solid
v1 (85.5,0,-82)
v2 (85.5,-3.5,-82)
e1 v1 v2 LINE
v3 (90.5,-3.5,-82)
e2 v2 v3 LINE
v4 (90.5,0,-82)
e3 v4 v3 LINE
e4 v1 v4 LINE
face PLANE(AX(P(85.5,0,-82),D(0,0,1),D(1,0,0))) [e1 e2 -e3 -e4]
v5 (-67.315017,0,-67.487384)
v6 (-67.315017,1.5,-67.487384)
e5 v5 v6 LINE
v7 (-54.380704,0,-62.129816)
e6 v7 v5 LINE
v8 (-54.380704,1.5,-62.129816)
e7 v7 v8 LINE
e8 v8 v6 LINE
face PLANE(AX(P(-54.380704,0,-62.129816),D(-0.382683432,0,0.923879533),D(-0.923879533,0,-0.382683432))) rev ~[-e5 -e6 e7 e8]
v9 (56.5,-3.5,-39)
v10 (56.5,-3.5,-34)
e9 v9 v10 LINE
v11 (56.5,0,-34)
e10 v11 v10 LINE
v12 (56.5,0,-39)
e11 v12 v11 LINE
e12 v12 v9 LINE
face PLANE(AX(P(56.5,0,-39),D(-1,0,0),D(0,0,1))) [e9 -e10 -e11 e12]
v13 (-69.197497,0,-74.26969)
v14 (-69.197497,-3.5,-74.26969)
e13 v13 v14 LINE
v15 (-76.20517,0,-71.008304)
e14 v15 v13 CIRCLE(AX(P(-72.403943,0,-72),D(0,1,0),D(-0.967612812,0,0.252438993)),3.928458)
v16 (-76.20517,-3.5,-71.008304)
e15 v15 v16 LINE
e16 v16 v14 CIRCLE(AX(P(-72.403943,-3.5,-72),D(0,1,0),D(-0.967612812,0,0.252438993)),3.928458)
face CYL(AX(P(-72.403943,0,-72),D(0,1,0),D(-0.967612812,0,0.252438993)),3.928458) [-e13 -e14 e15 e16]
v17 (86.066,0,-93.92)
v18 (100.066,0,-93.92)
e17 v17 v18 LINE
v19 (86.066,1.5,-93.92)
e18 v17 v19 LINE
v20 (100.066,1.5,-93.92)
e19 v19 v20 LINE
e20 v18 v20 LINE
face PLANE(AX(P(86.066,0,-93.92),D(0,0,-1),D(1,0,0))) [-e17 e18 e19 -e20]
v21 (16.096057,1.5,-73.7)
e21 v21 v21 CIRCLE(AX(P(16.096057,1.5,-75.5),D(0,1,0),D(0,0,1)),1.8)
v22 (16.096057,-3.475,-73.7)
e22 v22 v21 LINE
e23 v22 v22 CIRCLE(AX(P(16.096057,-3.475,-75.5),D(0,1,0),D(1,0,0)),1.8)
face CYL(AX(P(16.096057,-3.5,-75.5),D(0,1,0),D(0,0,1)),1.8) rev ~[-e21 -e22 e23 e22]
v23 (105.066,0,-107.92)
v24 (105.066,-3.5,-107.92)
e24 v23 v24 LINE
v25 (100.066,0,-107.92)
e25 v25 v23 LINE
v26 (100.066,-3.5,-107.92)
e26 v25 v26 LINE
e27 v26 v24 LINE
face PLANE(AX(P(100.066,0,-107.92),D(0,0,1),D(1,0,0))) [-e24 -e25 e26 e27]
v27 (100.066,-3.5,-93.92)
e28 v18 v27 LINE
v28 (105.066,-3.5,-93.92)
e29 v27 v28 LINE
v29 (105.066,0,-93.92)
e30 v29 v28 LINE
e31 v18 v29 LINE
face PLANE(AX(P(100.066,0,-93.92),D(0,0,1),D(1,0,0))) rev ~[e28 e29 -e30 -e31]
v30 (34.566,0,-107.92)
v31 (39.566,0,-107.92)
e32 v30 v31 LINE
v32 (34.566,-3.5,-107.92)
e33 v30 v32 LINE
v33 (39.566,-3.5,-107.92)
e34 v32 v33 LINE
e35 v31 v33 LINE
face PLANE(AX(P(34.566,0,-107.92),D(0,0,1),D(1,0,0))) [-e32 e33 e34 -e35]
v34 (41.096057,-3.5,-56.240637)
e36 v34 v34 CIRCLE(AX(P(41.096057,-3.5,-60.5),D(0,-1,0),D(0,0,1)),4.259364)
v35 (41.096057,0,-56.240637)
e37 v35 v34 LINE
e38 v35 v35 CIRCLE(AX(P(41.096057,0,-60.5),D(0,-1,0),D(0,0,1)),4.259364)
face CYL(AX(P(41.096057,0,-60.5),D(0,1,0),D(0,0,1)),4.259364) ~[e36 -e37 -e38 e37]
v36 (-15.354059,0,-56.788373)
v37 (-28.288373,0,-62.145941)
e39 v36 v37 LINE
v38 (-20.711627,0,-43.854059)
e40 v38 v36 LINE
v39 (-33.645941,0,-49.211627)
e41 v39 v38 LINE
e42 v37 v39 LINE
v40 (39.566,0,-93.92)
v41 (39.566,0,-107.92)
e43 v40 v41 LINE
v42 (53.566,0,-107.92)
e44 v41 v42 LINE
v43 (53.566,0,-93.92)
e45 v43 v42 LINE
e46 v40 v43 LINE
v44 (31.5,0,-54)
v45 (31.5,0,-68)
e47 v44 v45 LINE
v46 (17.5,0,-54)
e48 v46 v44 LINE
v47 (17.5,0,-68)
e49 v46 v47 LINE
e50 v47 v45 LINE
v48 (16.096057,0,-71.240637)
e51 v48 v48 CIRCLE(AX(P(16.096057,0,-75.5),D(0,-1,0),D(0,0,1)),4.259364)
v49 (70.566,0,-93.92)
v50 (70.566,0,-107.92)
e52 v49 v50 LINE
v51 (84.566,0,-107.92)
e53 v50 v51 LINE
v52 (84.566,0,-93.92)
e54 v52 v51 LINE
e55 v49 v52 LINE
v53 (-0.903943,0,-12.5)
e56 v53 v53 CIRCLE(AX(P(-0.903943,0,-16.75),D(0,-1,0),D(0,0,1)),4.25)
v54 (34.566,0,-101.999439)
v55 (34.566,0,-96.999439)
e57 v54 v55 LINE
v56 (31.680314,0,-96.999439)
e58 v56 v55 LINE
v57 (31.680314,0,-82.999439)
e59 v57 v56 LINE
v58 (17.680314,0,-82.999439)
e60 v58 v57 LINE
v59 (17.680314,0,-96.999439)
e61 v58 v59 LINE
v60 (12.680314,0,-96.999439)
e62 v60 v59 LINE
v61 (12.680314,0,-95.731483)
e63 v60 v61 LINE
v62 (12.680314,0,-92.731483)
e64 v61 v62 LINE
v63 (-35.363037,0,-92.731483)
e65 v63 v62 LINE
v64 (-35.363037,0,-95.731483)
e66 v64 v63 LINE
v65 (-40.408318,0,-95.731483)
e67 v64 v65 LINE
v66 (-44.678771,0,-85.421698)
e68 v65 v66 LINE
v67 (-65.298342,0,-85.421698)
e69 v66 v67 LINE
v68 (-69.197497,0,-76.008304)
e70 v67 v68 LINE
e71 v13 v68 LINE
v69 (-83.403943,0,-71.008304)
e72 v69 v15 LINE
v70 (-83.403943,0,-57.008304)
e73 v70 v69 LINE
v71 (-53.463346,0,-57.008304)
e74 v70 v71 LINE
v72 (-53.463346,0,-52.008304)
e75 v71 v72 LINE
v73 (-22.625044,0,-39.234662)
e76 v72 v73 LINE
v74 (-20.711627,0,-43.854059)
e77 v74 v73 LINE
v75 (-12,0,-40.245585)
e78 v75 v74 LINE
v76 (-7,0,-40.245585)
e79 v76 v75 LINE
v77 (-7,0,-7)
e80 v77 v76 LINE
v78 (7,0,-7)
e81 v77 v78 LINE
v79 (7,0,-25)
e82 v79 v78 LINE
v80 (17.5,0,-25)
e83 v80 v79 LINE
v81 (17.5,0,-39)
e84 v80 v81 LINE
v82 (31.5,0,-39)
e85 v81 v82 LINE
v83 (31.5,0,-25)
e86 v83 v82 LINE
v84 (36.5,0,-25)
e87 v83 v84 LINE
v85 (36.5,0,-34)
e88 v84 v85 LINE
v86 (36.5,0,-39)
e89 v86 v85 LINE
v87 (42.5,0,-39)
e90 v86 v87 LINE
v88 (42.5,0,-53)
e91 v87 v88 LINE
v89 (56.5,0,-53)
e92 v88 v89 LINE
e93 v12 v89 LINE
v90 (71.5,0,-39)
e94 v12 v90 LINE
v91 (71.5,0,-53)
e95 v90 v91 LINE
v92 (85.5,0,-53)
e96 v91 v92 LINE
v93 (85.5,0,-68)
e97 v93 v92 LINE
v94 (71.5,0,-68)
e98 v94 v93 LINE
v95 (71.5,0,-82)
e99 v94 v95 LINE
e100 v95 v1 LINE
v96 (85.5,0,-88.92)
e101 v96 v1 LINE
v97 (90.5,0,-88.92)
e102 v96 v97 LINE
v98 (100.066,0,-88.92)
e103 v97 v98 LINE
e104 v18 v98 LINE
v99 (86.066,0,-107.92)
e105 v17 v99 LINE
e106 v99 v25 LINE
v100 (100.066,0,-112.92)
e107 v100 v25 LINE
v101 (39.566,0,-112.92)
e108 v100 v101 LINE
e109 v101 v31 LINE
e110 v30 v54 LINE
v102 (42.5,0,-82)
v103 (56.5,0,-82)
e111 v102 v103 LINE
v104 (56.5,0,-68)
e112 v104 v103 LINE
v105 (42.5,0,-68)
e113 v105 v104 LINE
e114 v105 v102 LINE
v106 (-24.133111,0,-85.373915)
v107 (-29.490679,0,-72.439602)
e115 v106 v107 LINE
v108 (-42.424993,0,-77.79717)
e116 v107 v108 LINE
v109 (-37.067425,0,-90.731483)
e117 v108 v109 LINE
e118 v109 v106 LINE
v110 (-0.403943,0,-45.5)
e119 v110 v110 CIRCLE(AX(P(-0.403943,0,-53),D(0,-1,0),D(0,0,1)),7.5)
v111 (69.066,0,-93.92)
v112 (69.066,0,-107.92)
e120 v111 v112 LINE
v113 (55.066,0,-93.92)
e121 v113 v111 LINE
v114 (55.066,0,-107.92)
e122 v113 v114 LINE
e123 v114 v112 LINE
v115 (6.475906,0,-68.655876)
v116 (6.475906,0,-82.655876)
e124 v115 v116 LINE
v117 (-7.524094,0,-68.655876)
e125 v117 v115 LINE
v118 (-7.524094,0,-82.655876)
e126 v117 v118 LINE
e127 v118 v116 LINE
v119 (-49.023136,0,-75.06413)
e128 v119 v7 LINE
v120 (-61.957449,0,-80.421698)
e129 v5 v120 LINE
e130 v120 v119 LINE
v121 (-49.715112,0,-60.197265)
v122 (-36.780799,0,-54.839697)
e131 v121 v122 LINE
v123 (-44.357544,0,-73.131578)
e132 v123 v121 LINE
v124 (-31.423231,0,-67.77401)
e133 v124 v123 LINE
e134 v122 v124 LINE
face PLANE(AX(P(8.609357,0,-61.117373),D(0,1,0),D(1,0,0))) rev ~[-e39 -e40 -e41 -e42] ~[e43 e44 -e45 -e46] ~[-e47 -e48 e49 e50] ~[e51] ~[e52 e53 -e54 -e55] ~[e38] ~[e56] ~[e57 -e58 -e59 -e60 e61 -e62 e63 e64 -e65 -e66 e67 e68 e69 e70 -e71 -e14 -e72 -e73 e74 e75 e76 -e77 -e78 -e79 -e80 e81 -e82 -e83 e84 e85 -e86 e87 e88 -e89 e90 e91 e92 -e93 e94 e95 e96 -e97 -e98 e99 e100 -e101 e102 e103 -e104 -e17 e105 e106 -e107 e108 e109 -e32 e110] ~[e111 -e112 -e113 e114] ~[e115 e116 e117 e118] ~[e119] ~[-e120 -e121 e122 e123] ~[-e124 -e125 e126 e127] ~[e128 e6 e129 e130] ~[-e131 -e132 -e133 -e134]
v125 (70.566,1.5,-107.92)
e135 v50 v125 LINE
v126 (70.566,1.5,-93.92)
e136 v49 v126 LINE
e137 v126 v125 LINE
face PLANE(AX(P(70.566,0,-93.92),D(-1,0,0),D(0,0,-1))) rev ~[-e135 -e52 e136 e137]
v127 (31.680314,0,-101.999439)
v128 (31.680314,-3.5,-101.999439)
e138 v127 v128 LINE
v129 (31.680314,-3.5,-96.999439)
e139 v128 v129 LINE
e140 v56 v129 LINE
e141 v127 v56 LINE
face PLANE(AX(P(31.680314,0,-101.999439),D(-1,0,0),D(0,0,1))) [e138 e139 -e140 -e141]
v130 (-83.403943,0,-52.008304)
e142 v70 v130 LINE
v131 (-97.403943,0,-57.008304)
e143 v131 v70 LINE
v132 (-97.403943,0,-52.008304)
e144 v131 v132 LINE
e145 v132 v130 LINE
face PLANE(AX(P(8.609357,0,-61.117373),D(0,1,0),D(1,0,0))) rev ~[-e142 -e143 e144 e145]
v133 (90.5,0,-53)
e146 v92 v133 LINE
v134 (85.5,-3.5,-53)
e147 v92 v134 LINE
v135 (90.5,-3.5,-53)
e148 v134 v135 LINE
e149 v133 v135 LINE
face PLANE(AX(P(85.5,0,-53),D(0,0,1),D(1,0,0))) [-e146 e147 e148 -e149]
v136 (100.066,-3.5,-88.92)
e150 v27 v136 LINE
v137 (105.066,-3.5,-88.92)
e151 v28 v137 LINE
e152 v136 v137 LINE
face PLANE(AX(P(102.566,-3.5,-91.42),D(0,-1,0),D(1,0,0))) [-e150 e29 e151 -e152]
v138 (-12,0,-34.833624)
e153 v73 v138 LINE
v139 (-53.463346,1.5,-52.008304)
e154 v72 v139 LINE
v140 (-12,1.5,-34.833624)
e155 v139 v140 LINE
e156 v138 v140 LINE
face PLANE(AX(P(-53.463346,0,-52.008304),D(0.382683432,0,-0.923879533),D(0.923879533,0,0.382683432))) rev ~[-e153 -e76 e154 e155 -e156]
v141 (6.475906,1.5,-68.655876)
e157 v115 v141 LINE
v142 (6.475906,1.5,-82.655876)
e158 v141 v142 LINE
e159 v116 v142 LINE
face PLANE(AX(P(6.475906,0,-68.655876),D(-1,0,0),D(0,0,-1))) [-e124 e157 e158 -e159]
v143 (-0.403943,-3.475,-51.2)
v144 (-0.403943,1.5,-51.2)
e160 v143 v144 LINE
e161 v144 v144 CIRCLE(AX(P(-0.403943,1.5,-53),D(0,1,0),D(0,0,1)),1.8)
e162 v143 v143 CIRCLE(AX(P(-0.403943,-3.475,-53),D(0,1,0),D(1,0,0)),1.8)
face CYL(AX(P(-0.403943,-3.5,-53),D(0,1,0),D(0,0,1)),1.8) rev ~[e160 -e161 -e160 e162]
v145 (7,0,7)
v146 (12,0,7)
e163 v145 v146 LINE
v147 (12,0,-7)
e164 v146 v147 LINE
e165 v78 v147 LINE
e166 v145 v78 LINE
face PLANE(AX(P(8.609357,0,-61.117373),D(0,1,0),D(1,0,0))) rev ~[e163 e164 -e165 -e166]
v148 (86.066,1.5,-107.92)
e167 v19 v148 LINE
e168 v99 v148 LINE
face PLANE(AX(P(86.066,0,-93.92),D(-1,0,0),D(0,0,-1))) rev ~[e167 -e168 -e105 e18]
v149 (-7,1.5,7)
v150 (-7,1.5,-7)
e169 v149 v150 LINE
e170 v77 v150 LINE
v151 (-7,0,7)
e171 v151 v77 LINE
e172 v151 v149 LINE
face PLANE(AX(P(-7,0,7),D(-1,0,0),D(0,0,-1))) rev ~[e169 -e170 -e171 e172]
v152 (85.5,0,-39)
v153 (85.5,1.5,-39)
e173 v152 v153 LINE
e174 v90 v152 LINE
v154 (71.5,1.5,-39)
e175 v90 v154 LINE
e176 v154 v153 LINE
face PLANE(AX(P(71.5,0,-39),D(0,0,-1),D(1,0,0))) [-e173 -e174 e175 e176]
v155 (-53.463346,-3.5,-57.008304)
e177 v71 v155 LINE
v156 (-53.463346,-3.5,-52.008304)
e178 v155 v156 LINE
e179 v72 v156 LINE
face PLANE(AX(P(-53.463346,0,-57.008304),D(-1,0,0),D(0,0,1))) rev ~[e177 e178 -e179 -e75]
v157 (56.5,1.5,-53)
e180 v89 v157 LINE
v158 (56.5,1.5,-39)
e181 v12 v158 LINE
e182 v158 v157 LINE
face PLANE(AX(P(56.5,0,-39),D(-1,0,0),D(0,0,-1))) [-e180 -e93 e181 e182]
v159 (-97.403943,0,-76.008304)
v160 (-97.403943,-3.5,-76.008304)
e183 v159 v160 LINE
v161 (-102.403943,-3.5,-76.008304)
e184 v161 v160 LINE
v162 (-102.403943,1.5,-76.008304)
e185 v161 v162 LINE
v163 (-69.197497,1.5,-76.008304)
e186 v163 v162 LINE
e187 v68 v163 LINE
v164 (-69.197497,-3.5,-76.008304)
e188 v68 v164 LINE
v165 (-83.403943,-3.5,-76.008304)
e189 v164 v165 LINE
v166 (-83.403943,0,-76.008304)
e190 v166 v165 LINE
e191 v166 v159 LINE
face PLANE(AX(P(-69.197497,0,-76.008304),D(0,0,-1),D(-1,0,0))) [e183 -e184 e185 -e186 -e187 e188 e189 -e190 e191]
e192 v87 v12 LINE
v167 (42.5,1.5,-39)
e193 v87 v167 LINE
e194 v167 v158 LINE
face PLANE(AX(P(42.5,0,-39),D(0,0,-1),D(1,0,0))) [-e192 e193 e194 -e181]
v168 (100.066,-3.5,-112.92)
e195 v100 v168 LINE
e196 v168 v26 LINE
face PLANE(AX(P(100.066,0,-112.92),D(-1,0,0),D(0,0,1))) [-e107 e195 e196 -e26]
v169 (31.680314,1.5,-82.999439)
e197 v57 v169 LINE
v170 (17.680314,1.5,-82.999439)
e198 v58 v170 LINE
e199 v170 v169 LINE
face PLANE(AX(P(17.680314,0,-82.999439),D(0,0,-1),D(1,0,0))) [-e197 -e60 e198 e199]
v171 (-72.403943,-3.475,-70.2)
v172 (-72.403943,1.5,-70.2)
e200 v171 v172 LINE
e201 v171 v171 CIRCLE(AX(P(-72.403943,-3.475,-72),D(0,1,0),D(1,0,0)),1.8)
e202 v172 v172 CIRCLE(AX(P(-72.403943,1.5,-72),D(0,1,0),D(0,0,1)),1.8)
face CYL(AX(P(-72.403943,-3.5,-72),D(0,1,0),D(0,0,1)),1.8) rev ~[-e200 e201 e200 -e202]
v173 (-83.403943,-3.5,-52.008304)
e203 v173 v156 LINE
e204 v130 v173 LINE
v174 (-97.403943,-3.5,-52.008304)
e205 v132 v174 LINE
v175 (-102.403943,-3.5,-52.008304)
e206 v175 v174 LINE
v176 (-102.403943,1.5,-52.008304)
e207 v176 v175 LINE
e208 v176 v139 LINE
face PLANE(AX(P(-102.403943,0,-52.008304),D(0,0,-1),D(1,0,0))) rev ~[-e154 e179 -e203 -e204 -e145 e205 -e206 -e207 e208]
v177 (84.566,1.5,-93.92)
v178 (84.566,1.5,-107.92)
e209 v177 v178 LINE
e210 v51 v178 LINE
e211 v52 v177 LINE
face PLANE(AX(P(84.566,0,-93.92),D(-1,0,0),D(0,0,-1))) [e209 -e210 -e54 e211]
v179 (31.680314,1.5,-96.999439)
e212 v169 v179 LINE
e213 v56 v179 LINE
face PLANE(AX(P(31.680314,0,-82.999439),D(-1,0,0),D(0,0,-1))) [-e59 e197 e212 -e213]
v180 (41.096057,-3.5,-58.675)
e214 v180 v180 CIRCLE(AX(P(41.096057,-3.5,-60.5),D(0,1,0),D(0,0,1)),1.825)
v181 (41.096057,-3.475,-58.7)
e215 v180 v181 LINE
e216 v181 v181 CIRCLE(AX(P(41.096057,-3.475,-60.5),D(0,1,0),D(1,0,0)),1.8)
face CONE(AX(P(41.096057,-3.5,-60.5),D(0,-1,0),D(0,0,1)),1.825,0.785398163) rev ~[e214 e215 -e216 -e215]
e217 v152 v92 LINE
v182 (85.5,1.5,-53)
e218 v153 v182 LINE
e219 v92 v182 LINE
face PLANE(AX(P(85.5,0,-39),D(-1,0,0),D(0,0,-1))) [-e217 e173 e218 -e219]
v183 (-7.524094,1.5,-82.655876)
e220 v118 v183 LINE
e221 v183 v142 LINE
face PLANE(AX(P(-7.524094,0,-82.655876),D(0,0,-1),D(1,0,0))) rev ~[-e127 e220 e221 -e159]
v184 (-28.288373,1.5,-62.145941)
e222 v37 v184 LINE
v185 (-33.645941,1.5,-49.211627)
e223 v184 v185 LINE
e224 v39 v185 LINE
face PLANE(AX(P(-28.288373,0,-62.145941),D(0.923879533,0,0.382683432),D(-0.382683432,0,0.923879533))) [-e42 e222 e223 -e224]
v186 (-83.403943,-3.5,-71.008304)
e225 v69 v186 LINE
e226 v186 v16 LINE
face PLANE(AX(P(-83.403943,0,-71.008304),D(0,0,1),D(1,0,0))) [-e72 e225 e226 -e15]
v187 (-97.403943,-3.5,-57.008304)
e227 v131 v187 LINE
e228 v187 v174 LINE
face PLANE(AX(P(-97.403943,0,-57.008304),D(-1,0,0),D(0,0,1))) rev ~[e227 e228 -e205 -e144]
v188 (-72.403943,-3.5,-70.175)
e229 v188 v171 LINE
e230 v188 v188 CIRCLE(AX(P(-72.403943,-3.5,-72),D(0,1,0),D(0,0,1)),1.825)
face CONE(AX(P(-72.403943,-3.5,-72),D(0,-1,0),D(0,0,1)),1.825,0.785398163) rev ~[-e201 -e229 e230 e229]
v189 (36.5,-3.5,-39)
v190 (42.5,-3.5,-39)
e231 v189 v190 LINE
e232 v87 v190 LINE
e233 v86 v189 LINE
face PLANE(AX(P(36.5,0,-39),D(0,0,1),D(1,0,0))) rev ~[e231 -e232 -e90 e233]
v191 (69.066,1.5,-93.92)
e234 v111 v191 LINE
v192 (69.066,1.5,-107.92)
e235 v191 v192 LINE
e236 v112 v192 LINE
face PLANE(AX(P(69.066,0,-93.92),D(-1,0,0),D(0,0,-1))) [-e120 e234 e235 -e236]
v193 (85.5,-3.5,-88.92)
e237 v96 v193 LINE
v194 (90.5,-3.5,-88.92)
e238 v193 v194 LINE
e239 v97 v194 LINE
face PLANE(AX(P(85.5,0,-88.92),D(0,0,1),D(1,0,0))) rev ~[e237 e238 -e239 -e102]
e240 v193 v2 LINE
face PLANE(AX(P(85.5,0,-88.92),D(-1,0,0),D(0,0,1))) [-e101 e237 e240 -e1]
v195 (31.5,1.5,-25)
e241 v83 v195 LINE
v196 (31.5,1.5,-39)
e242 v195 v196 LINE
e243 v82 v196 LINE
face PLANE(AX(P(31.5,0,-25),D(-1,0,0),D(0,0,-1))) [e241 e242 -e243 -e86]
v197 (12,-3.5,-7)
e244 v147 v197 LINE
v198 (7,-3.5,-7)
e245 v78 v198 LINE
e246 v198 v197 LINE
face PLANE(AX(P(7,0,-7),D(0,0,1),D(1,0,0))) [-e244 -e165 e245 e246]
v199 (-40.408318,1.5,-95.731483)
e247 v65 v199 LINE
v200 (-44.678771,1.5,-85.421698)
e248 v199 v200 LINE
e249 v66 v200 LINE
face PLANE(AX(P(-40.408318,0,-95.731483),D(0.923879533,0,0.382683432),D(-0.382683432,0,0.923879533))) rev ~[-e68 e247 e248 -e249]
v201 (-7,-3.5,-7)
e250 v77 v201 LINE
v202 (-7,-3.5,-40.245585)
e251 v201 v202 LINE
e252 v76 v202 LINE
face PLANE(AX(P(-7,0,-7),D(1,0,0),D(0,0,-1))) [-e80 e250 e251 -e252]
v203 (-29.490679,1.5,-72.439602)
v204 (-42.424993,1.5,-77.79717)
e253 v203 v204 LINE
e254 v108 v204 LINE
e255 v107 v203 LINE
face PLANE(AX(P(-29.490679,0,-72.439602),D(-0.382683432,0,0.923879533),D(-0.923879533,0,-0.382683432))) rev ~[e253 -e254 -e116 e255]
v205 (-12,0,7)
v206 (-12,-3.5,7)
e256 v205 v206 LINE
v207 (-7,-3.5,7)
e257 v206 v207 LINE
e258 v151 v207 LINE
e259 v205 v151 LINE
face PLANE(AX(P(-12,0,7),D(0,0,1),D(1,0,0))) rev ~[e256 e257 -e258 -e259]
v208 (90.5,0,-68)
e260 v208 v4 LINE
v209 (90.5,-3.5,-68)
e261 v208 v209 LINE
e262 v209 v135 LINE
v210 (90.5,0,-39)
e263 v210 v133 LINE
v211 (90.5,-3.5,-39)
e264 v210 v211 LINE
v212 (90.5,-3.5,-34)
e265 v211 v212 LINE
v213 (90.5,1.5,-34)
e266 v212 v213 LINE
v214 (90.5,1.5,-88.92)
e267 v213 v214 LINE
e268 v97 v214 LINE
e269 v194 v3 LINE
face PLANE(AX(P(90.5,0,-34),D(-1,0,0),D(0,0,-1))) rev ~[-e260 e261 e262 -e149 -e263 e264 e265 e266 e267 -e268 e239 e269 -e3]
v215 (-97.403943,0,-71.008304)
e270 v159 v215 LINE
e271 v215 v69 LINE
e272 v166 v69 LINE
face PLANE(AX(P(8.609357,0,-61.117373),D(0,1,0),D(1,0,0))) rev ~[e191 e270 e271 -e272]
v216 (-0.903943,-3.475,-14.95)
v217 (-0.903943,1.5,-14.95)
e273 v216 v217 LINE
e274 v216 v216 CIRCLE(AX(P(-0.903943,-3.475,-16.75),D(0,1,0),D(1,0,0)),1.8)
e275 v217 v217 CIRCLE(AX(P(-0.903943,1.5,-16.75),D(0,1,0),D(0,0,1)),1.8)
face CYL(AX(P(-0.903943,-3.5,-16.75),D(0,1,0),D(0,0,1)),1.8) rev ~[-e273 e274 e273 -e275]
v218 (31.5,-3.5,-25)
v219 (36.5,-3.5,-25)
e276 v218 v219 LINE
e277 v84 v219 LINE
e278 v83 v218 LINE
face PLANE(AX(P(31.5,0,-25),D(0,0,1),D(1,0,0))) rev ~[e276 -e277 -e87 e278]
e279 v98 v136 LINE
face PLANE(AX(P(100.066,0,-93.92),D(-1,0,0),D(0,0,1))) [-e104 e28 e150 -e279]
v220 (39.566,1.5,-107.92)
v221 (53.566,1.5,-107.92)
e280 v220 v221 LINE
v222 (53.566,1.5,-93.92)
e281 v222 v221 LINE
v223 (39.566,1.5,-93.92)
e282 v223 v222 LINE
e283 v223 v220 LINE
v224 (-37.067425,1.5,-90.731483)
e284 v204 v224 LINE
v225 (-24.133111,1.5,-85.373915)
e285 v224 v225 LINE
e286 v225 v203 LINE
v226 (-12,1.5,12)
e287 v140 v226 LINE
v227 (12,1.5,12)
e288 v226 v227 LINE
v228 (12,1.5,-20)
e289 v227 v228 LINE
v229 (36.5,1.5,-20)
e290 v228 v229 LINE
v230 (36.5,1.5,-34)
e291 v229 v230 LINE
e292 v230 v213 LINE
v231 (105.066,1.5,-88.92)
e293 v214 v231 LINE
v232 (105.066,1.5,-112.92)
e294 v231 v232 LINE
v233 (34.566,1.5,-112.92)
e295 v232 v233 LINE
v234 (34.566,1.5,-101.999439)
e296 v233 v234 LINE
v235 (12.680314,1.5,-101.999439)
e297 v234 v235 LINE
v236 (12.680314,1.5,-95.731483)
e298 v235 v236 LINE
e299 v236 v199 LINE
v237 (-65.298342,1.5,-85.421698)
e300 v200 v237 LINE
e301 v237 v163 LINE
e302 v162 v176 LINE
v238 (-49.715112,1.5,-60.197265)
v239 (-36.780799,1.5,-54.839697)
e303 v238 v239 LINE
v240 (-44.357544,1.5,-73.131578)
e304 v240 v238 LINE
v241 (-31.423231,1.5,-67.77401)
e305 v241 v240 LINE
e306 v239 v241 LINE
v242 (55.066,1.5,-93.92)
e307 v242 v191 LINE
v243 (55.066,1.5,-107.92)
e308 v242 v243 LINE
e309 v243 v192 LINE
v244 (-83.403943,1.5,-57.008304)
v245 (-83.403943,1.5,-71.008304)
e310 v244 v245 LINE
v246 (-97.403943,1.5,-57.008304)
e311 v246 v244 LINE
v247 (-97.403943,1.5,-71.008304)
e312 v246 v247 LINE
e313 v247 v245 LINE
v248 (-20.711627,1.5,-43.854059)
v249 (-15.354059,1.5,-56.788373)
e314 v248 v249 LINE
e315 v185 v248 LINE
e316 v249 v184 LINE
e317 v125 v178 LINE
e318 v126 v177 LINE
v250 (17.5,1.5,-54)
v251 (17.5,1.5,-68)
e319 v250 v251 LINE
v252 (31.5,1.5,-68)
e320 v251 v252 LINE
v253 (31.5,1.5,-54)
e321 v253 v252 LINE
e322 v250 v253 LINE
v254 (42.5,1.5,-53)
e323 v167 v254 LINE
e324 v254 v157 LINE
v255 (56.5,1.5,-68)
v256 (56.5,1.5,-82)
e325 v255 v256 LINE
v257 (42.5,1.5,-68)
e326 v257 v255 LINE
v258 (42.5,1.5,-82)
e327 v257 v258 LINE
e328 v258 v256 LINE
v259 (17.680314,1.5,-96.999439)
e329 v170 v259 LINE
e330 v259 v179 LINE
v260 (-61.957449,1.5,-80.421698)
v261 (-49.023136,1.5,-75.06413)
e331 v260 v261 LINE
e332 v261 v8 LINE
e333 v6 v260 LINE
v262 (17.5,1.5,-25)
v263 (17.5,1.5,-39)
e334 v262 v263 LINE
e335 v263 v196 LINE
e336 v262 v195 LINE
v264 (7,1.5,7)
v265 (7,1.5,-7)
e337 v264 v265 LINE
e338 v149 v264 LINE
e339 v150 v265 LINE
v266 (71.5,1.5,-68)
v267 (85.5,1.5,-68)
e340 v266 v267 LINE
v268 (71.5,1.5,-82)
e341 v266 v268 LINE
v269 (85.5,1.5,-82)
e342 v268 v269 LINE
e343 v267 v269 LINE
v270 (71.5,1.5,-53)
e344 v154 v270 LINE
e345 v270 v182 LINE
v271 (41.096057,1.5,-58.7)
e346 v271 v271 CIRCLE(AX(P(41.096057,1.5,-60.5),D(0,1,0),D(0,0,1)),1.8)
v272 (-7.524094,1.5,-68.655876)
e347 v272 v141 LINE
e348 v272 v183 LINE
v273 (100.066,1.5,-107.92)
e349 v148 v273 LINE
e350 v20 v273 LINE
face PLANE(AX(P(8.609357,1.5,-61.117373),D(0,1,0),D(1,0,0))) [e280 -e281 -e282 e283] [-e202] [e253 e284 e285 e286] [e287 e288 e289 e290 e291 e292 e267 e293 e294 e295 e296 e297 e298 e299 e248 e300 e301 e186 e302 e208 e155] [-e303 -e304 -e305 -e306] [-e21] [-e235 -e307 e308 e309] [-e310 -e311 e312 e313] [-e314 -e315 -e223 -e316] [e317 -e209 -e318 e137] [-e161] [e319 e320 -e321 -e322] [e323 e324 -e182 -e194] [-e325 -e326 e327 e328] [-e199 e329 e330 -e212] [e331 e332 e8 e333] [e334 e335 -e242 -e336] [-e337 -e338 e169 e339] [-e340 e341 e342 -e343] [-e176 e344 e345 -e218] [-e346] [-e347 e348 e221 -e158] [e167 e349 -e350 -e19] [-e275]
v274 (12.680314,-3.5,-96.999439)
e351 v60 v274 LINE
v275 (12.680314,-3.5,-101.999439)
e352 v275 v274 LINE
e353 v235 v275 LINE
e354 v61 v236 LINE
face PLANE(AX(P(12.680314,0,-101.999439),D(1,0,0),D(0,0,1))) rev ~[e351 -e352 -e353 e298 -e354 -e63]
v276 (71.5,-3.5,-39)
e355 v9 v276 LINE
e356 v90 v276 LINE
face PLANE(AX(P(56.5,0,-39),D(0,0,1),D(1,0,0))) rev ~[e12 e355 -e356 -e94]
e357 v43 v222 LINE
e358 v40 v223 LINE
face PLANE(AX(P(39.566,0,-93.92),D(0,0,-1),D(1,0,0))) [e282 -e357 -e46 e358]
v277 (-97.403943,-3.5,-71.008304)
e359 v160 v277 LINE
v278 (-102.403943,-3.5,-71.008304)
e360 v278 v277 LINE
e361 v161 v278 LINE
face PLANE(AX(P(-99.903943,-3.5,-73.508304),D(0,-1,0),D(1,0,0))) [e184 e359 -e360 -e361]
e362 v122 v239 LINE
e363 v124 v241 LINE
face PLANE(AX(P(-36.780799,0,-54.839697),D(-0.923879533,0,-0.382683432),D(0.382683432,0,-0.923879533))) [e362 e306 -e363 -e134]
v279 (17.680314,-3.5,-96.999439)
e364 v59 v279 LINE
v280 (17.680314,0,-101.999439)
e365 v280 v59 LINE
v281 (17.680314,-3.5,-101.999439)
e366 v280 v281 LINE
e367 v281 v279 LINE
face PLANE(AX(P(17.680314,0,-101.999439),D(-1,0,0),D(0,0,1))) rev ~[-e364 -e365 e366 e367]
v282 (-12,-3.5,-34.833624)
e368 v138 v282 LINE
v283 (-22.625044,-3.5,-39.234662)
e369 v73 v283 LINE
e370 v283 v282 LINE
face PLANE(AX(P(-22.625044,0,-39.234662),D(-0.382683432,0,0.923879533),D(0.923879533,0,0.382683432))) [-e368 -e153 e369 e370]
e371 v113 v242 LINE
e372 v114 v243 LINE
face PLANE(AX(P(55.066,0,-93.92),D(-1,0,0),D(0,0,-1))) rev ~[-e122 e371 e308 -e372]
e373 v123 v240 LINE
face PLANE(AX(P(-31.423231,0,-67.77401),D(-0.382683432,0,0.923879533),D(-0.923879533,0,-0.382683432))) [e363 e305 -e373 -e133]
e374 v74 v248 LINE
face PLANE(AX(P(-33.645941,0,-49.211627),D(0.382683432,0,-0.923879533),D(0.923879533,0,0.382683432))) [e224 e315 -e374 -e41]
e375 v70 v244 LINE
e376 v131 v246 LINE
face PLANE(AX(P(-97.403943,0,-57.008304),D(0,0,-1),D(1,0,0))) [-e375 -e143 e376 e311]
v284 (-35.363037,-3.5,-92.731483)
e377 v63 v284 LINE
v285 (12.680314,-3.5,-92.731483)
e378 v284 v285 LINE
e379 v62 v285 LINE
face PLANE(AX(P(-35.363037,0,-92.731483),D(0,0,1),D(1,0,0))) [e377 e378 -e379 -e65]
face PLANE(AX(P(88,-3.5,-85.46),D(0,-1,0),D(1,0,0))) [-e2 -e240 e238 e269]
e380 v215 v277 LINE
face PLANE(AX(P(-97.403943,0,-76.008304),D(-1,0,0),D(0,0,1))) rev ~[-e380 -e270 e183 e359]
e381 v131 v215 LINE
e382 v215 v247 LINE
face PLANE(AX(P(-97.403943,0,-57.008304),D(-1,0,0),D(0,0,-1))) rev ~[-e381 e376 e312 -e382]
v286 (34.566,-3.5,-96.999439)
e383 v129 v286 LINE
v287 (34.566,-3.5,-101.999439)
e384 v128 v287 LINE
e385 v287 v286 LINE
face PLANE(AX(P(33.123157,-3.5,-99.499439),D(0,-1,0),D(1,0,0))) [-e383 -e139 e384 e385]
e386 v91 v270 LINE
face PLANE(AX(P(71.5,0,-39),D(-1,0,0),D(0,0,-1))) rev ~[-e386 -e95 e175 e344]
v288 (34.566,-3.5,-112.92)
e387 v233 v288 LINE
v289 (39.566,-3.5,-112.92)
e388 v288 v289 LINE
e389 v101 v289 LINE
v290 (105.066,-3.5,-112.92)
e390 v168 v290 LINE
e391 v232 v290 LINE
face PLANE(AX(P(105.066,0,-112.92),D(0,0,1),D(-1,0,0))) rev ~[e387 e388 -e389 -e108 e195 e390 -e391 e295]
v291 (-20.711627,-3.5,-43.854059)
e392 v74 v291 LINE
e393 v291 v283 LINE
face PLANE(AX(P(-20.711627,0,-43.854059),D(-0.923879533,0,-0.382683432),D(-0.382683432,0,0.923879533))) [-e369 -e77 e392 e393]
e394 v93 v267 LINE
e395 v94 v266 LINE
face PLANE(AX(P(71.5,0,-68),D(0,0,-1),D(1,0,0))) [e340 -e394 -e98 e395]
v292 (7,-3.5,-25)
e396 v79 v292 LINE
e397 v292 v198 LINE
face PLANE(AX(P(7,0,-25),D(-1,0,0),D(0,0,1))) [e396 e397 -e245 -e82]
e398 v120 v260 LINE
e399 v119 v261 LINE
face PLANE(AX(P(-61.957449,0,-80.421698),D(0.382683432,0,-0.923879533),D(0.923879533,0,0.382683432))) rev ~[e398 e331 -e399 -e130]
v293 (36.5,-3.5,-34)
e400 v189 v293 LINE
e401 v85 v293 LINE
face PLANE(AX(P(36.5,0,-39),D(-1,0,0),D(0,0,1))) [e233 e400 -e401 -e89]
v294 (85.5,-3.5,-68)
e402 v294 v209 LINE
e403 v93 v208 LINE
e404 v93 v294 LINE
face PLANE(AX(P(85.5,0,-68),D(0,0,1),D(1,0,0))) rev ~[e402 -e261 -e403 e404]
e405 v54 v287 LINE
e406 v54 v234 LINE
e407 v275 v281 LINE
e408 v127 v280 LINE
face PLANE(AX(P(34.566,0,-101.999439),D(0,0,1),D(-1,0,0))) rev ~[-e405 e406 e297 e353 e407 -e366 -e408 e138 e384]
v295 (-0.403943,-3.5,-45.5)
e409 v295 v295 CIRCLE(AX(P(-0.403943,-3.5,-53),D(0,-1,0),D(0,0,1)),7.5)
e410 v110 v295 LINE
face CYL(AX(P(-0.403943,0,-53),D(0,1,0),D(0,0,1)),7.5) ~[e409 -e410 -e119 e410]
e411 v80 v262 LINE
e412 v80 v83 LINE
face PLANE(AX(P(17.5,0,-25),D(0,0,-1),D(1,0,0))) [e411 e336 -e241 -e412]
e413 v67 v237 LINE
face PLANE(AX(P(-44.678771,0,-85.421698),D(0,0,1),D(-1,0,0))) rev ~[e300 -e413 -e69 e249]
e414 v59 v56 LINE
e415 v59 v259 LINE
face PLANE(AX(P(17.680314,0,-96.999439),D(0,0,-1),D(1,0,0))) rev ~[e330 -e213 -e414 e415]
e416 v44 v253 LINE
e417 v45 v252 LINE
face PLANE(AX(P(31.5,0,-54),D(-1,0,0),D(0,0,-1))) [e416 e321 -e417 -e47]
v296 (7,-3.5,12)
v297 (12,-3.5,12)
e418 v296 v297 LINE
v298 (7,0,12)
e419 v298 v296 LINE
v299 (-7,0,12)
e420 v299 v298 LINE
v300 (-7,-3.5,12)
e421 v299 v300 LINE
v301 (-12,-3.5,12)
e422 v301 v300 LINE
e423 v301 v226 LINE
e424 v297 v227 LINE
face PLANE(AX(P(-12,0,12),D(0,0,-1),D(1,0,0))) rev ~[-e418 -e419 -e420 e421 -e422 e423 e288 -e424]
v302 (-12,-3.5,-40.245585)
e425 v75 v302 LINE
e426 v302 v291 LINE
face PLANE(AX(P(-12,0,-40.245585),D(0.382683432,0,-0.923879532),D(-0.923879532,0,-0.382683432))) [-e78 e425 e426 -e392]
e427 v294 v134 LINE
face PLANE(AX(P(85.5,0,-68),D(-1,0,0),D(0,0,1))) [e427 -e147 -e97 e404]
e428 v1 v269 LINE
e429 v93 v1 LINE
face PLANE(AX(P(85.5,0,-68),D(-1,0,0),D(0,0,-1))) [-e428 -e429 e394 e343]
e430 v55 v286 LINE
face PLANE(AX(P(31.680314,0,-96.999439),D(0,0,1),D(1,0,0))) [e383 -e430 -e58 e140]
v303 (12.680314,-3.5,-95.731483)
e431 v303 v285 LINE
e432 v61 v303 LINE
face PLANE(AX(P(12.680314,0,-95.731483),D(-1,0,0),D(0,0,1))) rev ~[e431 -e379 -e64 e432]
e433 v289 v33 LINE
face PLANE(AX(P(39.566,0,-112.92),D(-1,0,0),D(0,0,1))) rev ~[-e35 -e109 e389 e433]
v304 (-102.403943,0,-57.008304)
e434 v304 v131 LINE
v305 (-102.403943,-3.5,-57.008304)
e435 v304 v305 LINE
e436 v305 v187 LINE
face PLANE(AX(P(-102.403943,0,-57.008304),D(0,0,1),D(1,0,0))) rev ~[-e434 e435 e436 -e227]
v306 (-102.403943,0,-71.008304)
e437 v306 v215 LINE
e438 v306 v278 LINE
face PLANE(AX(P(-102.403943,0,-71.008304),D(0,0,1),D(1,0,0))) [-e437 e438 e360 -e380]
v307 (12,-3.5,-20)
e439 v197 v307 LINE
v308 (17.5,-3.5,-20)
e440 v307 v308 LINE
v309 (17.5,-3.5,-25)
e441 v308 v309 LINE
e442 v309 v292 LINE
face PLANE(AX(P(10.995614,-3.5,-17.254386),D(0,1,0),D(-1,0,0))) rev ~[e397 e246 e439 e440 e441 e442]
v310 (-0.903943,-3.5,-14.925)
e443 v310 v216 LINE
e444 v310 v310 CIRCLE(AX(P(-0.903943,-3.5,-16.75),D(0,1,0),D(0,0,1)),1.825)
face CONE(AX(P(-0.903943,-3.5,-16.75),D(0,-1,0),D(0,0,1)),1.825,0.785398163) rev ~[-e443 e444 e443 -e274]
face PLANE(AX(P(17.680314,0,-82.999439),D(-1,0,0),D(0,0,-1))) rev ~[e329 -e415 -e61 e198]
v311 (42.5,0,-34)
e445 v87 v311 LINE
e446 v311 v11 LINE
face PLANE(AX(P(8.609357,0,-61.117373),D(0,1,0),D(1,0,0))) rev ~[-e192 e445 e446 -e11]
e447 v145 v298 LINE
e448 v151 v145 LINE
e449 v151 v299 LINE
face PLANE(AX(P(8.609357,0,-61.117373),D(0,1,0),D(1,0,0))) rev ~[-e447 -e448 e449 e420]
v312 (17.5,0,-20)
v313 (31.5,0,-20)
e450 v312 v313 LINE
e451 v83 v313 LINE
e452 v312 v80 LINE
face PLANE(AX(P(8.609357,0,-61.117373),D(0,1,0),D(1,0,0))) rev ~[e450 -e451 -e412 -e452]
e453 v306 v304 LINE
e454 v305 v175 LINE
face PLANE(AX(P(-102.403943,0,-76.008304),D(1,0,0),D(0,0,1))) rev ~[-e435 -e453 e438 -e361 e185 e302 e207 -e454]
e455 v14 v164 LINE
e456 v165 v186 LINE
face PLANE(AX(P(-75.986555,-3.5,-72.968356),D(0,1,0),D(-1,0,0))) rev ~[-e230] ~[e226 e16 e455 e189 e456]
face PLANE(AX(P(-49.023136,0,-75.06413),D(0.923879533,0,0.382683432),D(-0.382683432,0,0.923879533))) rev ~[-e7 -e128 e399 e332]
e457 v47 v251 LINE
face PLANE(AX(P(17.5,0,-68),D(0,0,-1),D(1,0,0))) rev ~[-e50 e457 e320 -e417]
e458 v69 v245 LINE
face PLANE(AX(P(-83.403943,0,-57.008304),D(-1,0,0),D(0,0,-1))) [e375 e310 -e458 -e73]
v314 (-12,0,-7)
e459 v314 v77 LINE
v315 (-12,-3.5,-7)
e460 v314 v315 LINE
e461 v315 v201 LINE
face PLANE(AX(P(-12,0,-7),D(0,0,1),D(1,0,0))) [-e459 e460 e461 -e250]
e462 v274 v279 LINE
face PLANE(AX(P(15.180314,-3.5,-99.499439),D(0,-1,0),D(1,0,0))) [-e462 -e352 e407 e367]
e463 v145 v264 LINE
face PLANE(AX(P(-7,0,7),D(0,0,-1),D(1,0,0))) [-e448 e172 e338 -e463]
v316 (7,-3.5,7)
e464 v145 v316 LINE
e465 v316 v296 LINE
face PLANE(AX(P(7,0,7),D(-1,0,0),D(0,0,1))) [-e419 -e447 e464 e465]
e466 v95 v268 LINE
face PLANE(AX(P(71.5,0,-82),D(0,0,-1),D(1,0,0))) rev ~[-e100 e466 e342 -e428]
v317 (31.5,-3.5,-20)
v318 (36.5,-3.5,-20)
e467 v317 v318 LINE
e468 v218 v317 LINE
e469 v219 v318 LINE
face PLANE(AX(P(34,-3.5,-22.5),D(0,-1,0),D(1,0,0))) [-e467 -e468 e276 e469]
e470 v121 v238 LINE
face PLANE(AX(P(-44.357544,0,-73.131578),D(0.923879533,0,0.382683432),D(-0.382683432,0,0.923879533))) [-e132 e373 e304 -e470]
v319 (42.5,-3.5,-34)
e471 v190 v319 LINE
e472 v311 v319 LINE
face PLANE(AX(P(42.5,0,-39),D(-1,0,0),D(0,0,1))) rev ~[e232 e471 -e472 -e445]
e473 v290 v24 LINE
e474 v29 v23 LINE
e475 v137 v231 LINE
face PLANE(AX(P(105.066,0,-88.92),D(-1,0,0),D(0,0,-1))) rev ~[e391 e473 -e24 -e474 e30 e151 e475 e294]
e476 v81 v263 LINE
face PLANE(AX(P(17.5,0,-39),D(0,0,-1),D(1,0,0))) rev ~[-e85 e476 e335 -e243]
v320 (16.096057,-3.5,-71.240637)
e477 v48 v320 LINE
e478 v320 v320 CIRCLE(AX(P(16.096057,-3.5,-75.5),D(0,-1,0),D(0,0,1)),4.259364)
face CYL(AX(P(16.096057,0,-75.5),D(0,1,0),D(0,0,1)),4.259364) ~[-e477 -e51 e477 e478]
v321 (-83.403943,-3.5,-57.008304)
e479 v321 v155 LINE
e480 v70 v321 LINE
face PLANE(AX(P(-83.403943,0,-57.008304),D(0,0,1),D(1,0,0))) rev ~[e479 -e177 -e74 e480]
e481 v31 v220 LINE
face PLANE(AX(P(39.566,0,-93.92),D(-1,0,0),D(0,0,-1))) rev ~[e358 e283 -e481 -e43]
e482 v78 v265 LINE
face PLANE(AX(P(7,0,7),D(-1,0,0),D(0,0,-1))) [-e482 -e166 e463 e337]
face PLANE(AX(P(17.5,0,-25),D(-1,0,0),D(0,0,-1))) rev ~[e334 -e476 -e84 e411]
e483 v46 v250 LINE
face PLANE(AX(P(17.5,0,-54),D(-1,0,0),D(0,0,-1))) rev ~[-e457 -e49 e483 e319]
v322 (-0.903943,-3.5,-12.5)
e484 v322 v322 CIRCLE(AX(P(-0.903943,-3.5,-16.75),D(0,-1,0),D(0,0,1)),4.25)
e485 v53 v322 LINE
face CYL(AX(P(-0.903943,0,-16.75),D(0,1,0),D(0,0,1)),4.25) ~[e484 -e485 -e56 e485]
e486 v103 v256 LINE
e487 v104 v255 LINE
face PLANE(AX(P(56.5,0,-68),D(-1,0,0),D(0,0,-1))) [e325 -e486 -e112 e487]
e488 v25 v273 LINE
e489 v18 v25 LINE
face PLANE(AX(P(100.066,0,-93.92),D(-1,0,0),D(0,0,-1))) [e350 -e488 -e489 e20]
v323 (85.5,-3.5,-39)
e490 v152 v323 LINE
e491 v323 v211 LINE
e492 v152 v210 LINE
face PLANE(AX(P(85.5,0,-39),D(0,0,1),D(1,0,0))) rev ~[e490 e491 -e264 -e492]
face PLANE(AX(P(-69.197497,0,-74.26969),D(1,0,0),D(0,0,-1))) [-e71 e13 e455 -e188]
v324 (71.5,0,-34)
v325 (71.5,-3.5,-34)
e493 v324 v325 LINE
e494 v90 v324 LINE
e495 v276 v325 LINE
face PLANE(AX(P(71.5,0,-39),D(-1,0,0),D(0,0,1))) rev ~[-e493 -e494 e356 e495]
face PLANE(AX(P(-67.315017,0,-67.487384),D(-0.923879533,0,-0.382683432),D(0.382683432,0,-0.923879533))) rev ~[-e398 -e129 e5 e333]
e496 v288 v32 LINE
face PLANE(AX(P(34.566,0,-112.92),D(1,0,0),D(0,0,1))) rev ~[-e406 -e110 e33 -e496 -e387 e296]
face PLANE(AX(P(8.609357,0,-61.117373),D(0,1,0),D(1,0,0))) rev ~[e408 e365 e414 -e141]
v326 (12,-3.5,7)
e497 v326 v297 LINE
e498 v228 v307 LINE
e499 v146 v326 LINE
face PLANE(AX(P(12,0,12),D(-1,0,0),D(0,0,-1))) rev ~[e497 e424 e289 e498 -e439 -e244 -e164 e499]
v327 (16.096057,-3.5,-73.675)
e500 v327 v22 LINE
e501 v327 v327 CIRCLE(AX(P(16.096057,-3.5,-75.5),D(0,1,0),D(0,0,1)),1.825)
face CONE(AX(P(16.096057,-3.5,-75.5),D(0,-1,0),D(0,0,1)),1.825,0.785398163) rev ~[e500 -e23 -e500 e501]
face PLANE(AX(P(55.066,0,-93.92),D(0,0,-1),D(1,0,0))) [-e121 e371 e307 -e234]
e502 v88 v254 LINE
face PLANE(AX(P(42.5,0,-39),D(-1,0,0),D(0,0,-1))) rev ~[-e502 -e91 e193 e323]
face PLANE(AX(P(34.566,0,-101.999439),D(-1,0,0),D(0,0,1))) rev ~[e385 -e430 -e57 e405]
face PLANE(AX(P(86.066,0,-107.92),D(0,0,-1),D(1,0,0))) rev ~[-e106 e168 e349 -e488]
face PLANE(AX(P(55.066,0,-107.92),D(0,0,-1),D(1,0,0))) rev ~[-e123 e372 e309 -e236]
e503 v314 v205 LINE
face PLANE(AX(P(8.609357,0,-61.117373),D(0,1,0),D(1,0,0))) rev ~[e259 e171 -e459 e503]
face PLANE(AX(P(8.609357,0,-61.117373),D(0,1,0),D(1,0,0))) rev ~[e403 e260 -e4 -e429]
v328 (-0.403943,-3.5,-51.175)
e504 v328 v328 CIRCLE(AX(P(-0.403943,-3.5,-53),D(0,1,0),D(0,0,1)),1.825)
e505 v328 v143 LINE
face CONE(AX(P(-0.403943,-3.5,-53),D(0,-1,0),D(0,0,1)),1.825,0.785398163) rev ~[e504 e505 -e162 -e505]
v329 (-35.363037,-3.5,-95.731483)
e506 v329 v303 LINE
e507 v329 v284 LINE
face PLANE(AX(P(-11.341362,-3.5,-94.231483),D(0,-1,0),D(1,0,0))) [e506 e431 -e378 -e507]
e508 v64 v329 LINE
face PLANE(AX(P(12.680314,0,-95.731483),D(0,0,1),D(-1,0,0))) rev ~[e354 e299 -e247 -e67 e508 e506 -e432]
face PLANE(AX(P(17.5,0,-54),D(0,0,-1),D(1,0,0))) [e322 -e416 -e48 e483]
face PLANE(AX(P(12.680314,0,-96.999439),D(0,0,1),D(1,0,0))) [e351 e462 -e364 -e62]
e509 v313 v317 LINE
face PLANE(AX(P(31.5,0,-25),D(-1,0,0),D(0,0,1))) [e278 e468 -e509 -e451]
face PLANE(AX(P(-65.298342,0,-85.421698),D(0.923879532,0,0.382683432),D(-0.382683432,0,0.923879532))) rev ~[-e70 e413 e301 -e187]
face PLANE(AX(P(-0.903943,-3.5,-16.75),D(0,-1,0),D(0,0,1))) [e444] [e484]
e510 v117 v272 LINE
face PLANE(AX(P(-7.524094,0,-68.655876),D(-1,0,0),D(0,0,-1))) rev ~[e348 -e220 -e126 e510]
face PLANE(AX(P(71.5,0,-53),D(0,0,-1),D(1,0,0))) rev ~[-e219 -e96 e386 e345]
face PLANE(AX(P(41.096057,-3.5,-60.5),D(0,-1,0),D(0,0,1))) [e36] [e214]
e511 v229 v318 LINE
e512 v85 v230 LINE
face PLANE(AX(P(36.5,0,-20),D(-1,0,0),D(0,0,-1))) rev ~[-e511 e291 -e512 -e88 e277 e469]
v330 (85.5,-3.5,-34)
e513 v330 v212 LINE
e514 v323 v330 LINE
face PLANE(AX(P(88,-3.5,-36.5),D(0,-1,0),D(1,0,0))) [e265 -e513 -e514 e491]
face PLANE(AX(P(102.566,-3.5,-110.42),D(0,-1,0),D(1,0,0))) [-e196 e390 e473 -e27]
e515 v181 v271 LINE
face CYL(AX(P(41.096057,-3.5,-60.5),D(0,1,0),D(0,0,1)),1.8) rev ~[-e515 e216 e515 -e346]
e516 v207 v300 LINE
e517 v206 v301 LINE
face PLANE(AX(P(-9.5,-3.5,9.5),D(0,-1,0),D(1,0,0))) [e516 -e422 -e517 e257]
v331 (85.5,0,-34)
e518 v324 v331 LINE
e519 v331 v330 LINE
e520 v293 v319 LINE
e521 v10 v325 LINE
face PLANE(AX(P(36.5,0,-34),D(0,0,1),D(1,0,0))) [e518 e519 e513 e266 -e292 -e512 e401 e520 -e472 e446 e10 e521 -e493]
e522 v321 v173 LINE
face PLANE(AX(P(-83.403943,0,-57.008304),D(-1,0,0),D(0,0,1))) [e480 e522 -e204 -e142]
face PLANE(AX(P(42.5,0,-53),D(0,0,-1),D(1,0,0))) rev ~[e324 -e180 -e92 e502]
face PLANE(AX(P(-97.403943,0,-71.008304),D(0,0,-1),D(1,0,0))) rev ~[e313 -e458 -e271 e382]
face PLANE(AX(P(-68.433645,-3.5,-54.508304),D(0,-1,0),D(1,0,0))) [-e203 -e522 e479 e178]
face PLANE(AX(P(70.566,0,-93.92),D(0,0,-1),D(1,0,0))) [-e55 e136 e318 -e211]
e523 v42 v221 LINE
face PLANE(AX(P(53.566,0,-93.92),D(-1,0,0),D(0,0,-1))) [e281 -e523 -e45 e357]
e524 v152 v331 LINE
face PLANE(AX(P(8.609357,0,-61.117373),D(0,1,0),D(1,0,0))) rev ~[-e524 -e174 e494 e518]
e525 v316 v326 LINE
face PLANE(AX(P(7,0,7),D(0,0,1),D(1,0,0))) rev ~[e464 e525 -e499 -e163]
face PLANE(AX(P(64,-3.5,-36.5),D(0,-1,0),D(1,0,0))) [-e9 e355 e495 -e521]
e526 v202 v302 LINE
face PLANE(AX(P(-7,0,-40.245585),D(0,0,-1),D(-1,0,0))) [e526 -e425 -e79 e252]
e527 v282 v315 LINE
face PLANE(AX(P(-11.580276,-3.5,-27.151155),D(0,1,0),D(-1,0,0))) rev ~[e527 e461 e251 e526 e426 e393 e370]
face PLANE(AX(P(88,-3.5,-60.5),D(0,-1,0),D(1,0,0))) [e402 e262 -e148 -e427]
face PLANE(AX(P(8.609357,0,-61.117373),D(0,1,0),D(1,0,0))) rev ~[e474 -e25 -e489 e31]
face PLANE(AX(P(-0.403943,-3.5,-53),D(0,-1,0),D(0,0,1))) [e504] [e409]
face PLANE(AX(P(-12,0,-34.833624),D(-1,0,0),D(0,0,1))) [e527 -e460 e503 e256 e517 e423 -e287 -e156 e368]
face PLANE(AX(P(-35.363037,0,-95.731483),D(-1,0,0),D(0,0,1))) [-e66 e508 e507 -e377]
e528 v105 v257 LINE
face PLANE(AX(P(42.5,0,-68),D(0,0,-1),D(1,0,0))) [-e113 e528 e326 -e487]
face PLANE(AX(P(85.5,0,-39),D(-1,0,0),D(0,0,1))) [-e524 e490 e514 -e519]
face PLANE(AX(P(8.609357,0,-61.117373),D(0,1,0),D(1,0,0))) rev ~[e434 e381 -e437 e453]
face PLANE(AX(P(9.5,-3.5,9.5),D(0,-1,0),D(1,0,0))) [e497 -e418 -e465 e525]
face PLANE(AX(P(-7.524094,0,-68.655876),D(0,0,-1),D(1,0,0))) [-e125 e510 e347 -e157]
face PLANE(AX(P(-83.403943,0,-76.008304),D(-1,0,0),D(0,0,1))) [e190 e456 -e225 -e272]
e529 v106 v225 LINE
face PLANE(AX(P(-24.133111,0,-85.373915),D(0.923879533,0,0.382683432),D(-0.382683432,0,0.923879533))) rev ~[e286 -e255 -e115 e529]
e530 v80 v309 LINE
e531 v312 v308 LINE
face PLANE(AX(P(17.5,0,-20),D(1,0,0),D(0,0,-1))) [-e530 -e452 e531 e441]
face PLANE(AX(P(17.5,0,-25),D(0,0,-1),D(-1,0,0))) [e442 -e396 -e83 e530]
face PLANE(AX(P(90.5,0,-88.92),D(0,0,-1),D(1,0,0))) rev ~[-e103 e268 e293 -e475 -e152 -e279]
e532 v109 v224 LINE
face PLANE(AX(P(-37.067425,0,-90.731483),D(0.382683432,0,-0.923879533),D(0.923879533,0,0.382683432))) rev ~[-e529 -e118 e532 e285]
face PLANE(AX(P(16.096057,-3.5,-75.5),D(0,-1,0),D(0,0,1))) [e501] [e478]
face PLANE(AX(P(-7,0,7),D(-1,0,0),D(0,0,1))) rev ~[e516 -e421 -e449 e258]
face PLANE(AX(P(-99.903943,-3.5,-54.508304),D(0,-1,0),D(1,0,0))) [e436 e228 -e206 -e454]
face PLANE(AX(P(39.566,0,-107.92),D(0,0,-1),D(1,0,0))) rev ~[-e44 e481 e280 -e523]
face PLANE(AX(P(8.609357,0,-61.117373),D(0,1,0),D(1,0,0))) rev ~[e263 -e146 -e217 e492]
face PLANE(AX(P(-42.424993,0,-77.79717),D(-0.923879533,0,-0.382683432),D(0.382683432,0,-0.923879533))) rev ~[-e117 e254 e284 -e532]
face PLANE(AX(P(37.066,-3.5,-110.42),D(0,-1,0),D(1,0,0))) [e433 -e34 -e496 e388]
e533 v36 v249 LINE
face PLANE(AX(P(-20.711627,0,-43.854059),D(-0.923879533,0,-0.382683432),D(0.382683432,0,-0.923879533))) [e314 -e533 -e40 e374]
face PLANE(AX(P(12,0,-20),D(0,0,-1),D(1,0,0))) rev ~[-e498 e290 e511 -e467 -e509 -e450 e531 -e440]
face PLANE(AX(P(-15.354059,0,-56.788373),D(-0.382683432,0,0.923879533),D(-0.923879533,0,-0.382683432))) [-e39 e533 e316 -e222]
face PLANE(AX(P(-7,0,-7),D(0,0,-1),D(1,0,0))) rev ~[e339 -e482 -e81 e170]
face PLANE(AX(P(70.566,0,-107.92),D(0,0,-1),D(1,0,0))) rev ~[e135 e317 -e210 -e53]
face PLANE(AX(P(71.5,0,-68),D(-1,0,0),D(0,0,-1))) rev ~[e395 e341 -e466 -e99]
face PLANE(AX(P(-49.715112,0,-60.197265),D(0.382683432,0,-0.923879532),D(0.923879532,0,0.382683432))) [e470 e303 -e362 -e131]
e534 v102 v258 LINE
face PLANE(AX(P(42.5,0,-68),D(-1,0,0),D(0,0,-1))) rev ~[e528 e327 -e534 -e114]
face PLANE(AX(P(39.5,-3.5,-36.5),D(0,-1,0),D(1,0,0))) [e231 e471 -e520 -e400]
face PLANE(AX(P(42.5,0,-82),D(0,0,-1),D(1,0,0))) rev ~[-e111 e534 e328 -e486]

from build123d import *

# Parameters (mm, degrees)
SKETCH2_W                      = 14
SKETCH2_H                      = 14
BOSS_EXTRUDE1_DEPTH            = 1.5
SKETCH3_R                      = 7.5
SKETCH3_R_2                    = 4.250000483
SKETCH3_R_3                    = 4.259363822
SKETCH3_W                      = 5
SKETCH3_H                      = 5
SKETCH3_W_2                    = 29.940596835
SKETCH3_W_3                    = 6
SKETCH3_W_4                    = 15
SKETCH3_H_2                    = 15
SKETCH3_W_5                    = 2.885686077
SKETCH3_H_3                    = 6.92
SKETCH3_W_6                    = 48.043350903
SKETCH3_H_4                    = 3
BOSS_EXTRUDE2_DEPTH            = 3.5
M3_CLEARANCE_HOLE1_D           = 3.6
M3_CLEARANCE_HOLE1_CSINK_D     = 3.65
M3_CLEARANCE_HOLE1_CSINK_ANGLE = 90


with BuildPart() as part:
    # Sketch2 → Boss-Extrude1 (new body)
    with BuildSketch(Plane(origin=(0, 0, 0), x_dir=(1, 0, 0), z_dir=(0, 1, 0))):
        Polygon((90.5, 34), (90.5, 88.92), (105.066, 88.92), (105.066, 112.92), (34.566, 112.92), (34.566, 101.999439424), (12.680313923, 101.999439424), (12.680313923, 95.731483365), (-40.408317869, 95.731483365), (-44.678770934, 85.421697657), (-65.29834235, 85.421697657), (-69.197497471, 76.008304483), (-102.403943224, 76.008304483), (-102.403943224, 52.008304483), (-53.463346389, 52.008304483), (-12, 34.833624067), (-12, -12), (12, -12), (12, 20), (36.5, 20), (36.5, 34), align=None)
        with Locations((-90.403943224, 64.008304483)):
            Rectangle(SKETCH2_W, SKETCH2_H, mode=Mode.SUBTRACT)
        Polygon((-67.315017213, 67.487384202), (-61.95744916, 80.421697657), (-49.023135705, 75.064129604), (-54.380703758, 62.129816149), align=None, mode=Mode.SUBTRACT)
        with Locations((46.566, 100.92)):
            Rectangle(SKETCH2_W, SKETCH2_H, mode=Mode.SUBTRACT)
        Polygon((-31.423230611, 67.774010218), (-44.357544066, 73.131578271), (-49.715112119, 60.197264816), (-36.780798664, 54.839696762), align=None, mode=Mode.SUBTRACT)
        with Locations((-0.524094275, 75.65587615)):
            Rectangle(SKETCH2_W, SKETCH2_H, mode=Mode.SUBTRACT)
        with Locations((24.680313923, 89.999439424)):
            Rectangle(SKETCH2_W, SKETCH2_H, mode=Mode.SUBTRACT)
        with Locations((24.5, 61)):
            Rectangle(SKETCH2_W, SKETCH2_H, mode=Mode.SUBTRACT)
        with Locations((24.5, 32)):
            Rectangle(SKETCH2_W, SKETCH2_H, mode=Mode.SUBTRACT)
        with Locations((49.5, 46)):
            Rectangle(SKETCH2_W, SKETCH2_H, mode=Mode.SUBTRACT)
        with Locations((49.5, 75)):
            Rectangle(SKETCH2_W, SKETCH2_H, mode=Mode.SUBTRACT)
        with Locations((78.5, 75)):
            Rectangle(SKETCH2_W, SKETCH2_H, mode=Mode.SUBTRACT)
        with Locations((78.5, 46)):
            Rectangle(SKETCH2_W, SKETCH2_H, mode=Mode.SUBTRACT)
        Rectangle(SKETCH2_W, SKETCH2_H, mode=Mode.SUBTRACT)
        Polygon((-33.645940754, 49.211627299), (-20.711627299, 43.854059246), (-15.354059246, 56.788372701), (-28.288372701, 62.145940754), align=None, mode=Mode.SUBTRACT)
        Polygon((-42.424992732, 77.79716991), (-37.067424679, 90.731483365), (-24.133111224, 85.373915312), (-29.490679277, 72.439601857), align=None, mode=Mode.SUBTRACT)
        with Locations((62.066, 100.92)):
            Rectangle(SKETCH2_W, SKETCH2_H, mode=Mode.SUBTRACT)
        with Locations((77.566, 100.92)):
            Rectangle(SKETCH2_W, SKETCH2_H, mode=Mode.SUBTRACT)
        with Locations((93.066, 100.92)):
            Rectangle(SKETCH2_W, SKETCH2_H, mode=Mode.SUBTRACT)
    extrude(amount=BOSS_EXTRUDE1_DEPTH)

    # Sketch3 → Boss-Extrude2 (add)
    with BuildSketch(Plane.XZ):
        with Locations(Location((-0.403943224, -53.000000483, 0), (0, 0, 90))):
            Circle(SKETCH3_R)
        with Locations(Location((-0.903943224, -16.750000483, 0), (0, 0, 90))):
            Circle(SKETCH3_R_2)
        with Locations(Location((41.096056776, -60.500000483, 0), (0, 0, 90))):
            Circle(SKETCH3_R_3)
        with Locations(Location((16.096056776, -75.500000483, 0), (0, 0, 90))):
            Circle(SKETCH3_R_3)
        Polygon((-20.711627299, -43.854059246), (-22.625044461, -39.234661583), (-12, -34.833624067), (-12, -7), (-7, -7), (-7, -40.245585068), (-12, -40.245585068), align=None)
        with Locations((37.066, -110.42)):
            Rectangle(SKETCH3_W, SKETCH3_H)
        with Locations((102.566, -110.42)):
            Rectangle(SKETCH3_W, SKETCH3_H)
        with Locations((102.566, -91.42)):
            Rectangle(SKETCH3_W, SKETCH3_H)
        with Locations((88, -36.5)):
            Rectangle(SKETCH3_W, SKETCH3_H)
        with Locations((34, -22.5)):
            Rectangle(SKETCH3_W, SKETCH3_H)
        with Locations((9.5, 9.5)):
            Rectangle(SKETCH3_W, SKETCH3_H)
        with Locations((-9.5, 9.5)):
            Rectangle(SKETCH3_W, SKETCH3_H)
        with Locations((-99.903943224, -54.508304483)):
            Rectangle(SKETCH3_W, SKETCH3_H)
        with Locations((-99.903943224, -73.508304483)):
            Rectangle(SKETCH3_W, SKETCH3_H)
        Polygon((17.5, -25), (7, -25), (7, -7), (12, -7), (12, -20), (17.5, -20), align=None)
        with Locations((-68.433644806, -54.508304483)):
            Rectangle(SKETCH3_W_2, SKETCH3_H)
        with Locations((15.180313923, -99.499439424)):
            Rectangle(SKETCH3_W, SKETCH3_H)
        with BuildLine():
            Line((-83.403943224, -71.008304483), (-76.205169586, -71.008304483))
            ThreePointArc((-76.205169586, -71.008304483), (-70.746354877, -68.438373932), (-69.197497471, -74.269689546))
            Line((-69.197497471, -74.269689546), (-69.197497471, -76.008304483))
            Line((-69.197497471, -76.008304483), (-83.403943224, -76.008304483))
            Line((-83.403943224, -76.008304483), (-83.403943224, -71.008304483))
        make_face()
        with Locations((39.5, -36.5)):
            Rectangle(SKETCH3_W_3, SKETCH3_H)
        with Locations((64, -36.5)):
            Rectangle(SKETCH3_W_4, SKETCH3_H)
        with Locations((88, -60.5)):
            Rectangle(SKETCH3_W, SKETCH3_H_2)
        with Locations((33.123156962, -99.499439424)):
            Rectangle(SKETCH3_W_5, SKETCH3_H)
        with Locations((88, -85.46)):
            Rectangle(SKETCH3_W, SKETCH3_H_3)
        with Locations((-11.341361529, -94.231483365)):
            Rectangle(SKETCH3_W_6, SKETCH3_H_4)
    extrude(amount=BOSS_EXTRUDE2_DEPTH)

    # M3 Clearance Hole1 (through all)
    with Locations(Plane(origin=(-0.403943224, -3.5, -53.000000483), x_dir=(0, 0, -1), z_dir=(0, -1, 0))):
        with Locations((0, 0), (7.5, 41.5), (22.5, 16.5), (-36.25, -0.5), (19, -72)):
            CounterSinkHole(M3_CLEARANCE_HOLE1_D / 2, M3_CLEARANCE_HOLE1_CSINK_D / 2, counter_sink_angle=M3_CLEARANCE_HOLE1_CSINK_ANGLE)


solid = part.part
